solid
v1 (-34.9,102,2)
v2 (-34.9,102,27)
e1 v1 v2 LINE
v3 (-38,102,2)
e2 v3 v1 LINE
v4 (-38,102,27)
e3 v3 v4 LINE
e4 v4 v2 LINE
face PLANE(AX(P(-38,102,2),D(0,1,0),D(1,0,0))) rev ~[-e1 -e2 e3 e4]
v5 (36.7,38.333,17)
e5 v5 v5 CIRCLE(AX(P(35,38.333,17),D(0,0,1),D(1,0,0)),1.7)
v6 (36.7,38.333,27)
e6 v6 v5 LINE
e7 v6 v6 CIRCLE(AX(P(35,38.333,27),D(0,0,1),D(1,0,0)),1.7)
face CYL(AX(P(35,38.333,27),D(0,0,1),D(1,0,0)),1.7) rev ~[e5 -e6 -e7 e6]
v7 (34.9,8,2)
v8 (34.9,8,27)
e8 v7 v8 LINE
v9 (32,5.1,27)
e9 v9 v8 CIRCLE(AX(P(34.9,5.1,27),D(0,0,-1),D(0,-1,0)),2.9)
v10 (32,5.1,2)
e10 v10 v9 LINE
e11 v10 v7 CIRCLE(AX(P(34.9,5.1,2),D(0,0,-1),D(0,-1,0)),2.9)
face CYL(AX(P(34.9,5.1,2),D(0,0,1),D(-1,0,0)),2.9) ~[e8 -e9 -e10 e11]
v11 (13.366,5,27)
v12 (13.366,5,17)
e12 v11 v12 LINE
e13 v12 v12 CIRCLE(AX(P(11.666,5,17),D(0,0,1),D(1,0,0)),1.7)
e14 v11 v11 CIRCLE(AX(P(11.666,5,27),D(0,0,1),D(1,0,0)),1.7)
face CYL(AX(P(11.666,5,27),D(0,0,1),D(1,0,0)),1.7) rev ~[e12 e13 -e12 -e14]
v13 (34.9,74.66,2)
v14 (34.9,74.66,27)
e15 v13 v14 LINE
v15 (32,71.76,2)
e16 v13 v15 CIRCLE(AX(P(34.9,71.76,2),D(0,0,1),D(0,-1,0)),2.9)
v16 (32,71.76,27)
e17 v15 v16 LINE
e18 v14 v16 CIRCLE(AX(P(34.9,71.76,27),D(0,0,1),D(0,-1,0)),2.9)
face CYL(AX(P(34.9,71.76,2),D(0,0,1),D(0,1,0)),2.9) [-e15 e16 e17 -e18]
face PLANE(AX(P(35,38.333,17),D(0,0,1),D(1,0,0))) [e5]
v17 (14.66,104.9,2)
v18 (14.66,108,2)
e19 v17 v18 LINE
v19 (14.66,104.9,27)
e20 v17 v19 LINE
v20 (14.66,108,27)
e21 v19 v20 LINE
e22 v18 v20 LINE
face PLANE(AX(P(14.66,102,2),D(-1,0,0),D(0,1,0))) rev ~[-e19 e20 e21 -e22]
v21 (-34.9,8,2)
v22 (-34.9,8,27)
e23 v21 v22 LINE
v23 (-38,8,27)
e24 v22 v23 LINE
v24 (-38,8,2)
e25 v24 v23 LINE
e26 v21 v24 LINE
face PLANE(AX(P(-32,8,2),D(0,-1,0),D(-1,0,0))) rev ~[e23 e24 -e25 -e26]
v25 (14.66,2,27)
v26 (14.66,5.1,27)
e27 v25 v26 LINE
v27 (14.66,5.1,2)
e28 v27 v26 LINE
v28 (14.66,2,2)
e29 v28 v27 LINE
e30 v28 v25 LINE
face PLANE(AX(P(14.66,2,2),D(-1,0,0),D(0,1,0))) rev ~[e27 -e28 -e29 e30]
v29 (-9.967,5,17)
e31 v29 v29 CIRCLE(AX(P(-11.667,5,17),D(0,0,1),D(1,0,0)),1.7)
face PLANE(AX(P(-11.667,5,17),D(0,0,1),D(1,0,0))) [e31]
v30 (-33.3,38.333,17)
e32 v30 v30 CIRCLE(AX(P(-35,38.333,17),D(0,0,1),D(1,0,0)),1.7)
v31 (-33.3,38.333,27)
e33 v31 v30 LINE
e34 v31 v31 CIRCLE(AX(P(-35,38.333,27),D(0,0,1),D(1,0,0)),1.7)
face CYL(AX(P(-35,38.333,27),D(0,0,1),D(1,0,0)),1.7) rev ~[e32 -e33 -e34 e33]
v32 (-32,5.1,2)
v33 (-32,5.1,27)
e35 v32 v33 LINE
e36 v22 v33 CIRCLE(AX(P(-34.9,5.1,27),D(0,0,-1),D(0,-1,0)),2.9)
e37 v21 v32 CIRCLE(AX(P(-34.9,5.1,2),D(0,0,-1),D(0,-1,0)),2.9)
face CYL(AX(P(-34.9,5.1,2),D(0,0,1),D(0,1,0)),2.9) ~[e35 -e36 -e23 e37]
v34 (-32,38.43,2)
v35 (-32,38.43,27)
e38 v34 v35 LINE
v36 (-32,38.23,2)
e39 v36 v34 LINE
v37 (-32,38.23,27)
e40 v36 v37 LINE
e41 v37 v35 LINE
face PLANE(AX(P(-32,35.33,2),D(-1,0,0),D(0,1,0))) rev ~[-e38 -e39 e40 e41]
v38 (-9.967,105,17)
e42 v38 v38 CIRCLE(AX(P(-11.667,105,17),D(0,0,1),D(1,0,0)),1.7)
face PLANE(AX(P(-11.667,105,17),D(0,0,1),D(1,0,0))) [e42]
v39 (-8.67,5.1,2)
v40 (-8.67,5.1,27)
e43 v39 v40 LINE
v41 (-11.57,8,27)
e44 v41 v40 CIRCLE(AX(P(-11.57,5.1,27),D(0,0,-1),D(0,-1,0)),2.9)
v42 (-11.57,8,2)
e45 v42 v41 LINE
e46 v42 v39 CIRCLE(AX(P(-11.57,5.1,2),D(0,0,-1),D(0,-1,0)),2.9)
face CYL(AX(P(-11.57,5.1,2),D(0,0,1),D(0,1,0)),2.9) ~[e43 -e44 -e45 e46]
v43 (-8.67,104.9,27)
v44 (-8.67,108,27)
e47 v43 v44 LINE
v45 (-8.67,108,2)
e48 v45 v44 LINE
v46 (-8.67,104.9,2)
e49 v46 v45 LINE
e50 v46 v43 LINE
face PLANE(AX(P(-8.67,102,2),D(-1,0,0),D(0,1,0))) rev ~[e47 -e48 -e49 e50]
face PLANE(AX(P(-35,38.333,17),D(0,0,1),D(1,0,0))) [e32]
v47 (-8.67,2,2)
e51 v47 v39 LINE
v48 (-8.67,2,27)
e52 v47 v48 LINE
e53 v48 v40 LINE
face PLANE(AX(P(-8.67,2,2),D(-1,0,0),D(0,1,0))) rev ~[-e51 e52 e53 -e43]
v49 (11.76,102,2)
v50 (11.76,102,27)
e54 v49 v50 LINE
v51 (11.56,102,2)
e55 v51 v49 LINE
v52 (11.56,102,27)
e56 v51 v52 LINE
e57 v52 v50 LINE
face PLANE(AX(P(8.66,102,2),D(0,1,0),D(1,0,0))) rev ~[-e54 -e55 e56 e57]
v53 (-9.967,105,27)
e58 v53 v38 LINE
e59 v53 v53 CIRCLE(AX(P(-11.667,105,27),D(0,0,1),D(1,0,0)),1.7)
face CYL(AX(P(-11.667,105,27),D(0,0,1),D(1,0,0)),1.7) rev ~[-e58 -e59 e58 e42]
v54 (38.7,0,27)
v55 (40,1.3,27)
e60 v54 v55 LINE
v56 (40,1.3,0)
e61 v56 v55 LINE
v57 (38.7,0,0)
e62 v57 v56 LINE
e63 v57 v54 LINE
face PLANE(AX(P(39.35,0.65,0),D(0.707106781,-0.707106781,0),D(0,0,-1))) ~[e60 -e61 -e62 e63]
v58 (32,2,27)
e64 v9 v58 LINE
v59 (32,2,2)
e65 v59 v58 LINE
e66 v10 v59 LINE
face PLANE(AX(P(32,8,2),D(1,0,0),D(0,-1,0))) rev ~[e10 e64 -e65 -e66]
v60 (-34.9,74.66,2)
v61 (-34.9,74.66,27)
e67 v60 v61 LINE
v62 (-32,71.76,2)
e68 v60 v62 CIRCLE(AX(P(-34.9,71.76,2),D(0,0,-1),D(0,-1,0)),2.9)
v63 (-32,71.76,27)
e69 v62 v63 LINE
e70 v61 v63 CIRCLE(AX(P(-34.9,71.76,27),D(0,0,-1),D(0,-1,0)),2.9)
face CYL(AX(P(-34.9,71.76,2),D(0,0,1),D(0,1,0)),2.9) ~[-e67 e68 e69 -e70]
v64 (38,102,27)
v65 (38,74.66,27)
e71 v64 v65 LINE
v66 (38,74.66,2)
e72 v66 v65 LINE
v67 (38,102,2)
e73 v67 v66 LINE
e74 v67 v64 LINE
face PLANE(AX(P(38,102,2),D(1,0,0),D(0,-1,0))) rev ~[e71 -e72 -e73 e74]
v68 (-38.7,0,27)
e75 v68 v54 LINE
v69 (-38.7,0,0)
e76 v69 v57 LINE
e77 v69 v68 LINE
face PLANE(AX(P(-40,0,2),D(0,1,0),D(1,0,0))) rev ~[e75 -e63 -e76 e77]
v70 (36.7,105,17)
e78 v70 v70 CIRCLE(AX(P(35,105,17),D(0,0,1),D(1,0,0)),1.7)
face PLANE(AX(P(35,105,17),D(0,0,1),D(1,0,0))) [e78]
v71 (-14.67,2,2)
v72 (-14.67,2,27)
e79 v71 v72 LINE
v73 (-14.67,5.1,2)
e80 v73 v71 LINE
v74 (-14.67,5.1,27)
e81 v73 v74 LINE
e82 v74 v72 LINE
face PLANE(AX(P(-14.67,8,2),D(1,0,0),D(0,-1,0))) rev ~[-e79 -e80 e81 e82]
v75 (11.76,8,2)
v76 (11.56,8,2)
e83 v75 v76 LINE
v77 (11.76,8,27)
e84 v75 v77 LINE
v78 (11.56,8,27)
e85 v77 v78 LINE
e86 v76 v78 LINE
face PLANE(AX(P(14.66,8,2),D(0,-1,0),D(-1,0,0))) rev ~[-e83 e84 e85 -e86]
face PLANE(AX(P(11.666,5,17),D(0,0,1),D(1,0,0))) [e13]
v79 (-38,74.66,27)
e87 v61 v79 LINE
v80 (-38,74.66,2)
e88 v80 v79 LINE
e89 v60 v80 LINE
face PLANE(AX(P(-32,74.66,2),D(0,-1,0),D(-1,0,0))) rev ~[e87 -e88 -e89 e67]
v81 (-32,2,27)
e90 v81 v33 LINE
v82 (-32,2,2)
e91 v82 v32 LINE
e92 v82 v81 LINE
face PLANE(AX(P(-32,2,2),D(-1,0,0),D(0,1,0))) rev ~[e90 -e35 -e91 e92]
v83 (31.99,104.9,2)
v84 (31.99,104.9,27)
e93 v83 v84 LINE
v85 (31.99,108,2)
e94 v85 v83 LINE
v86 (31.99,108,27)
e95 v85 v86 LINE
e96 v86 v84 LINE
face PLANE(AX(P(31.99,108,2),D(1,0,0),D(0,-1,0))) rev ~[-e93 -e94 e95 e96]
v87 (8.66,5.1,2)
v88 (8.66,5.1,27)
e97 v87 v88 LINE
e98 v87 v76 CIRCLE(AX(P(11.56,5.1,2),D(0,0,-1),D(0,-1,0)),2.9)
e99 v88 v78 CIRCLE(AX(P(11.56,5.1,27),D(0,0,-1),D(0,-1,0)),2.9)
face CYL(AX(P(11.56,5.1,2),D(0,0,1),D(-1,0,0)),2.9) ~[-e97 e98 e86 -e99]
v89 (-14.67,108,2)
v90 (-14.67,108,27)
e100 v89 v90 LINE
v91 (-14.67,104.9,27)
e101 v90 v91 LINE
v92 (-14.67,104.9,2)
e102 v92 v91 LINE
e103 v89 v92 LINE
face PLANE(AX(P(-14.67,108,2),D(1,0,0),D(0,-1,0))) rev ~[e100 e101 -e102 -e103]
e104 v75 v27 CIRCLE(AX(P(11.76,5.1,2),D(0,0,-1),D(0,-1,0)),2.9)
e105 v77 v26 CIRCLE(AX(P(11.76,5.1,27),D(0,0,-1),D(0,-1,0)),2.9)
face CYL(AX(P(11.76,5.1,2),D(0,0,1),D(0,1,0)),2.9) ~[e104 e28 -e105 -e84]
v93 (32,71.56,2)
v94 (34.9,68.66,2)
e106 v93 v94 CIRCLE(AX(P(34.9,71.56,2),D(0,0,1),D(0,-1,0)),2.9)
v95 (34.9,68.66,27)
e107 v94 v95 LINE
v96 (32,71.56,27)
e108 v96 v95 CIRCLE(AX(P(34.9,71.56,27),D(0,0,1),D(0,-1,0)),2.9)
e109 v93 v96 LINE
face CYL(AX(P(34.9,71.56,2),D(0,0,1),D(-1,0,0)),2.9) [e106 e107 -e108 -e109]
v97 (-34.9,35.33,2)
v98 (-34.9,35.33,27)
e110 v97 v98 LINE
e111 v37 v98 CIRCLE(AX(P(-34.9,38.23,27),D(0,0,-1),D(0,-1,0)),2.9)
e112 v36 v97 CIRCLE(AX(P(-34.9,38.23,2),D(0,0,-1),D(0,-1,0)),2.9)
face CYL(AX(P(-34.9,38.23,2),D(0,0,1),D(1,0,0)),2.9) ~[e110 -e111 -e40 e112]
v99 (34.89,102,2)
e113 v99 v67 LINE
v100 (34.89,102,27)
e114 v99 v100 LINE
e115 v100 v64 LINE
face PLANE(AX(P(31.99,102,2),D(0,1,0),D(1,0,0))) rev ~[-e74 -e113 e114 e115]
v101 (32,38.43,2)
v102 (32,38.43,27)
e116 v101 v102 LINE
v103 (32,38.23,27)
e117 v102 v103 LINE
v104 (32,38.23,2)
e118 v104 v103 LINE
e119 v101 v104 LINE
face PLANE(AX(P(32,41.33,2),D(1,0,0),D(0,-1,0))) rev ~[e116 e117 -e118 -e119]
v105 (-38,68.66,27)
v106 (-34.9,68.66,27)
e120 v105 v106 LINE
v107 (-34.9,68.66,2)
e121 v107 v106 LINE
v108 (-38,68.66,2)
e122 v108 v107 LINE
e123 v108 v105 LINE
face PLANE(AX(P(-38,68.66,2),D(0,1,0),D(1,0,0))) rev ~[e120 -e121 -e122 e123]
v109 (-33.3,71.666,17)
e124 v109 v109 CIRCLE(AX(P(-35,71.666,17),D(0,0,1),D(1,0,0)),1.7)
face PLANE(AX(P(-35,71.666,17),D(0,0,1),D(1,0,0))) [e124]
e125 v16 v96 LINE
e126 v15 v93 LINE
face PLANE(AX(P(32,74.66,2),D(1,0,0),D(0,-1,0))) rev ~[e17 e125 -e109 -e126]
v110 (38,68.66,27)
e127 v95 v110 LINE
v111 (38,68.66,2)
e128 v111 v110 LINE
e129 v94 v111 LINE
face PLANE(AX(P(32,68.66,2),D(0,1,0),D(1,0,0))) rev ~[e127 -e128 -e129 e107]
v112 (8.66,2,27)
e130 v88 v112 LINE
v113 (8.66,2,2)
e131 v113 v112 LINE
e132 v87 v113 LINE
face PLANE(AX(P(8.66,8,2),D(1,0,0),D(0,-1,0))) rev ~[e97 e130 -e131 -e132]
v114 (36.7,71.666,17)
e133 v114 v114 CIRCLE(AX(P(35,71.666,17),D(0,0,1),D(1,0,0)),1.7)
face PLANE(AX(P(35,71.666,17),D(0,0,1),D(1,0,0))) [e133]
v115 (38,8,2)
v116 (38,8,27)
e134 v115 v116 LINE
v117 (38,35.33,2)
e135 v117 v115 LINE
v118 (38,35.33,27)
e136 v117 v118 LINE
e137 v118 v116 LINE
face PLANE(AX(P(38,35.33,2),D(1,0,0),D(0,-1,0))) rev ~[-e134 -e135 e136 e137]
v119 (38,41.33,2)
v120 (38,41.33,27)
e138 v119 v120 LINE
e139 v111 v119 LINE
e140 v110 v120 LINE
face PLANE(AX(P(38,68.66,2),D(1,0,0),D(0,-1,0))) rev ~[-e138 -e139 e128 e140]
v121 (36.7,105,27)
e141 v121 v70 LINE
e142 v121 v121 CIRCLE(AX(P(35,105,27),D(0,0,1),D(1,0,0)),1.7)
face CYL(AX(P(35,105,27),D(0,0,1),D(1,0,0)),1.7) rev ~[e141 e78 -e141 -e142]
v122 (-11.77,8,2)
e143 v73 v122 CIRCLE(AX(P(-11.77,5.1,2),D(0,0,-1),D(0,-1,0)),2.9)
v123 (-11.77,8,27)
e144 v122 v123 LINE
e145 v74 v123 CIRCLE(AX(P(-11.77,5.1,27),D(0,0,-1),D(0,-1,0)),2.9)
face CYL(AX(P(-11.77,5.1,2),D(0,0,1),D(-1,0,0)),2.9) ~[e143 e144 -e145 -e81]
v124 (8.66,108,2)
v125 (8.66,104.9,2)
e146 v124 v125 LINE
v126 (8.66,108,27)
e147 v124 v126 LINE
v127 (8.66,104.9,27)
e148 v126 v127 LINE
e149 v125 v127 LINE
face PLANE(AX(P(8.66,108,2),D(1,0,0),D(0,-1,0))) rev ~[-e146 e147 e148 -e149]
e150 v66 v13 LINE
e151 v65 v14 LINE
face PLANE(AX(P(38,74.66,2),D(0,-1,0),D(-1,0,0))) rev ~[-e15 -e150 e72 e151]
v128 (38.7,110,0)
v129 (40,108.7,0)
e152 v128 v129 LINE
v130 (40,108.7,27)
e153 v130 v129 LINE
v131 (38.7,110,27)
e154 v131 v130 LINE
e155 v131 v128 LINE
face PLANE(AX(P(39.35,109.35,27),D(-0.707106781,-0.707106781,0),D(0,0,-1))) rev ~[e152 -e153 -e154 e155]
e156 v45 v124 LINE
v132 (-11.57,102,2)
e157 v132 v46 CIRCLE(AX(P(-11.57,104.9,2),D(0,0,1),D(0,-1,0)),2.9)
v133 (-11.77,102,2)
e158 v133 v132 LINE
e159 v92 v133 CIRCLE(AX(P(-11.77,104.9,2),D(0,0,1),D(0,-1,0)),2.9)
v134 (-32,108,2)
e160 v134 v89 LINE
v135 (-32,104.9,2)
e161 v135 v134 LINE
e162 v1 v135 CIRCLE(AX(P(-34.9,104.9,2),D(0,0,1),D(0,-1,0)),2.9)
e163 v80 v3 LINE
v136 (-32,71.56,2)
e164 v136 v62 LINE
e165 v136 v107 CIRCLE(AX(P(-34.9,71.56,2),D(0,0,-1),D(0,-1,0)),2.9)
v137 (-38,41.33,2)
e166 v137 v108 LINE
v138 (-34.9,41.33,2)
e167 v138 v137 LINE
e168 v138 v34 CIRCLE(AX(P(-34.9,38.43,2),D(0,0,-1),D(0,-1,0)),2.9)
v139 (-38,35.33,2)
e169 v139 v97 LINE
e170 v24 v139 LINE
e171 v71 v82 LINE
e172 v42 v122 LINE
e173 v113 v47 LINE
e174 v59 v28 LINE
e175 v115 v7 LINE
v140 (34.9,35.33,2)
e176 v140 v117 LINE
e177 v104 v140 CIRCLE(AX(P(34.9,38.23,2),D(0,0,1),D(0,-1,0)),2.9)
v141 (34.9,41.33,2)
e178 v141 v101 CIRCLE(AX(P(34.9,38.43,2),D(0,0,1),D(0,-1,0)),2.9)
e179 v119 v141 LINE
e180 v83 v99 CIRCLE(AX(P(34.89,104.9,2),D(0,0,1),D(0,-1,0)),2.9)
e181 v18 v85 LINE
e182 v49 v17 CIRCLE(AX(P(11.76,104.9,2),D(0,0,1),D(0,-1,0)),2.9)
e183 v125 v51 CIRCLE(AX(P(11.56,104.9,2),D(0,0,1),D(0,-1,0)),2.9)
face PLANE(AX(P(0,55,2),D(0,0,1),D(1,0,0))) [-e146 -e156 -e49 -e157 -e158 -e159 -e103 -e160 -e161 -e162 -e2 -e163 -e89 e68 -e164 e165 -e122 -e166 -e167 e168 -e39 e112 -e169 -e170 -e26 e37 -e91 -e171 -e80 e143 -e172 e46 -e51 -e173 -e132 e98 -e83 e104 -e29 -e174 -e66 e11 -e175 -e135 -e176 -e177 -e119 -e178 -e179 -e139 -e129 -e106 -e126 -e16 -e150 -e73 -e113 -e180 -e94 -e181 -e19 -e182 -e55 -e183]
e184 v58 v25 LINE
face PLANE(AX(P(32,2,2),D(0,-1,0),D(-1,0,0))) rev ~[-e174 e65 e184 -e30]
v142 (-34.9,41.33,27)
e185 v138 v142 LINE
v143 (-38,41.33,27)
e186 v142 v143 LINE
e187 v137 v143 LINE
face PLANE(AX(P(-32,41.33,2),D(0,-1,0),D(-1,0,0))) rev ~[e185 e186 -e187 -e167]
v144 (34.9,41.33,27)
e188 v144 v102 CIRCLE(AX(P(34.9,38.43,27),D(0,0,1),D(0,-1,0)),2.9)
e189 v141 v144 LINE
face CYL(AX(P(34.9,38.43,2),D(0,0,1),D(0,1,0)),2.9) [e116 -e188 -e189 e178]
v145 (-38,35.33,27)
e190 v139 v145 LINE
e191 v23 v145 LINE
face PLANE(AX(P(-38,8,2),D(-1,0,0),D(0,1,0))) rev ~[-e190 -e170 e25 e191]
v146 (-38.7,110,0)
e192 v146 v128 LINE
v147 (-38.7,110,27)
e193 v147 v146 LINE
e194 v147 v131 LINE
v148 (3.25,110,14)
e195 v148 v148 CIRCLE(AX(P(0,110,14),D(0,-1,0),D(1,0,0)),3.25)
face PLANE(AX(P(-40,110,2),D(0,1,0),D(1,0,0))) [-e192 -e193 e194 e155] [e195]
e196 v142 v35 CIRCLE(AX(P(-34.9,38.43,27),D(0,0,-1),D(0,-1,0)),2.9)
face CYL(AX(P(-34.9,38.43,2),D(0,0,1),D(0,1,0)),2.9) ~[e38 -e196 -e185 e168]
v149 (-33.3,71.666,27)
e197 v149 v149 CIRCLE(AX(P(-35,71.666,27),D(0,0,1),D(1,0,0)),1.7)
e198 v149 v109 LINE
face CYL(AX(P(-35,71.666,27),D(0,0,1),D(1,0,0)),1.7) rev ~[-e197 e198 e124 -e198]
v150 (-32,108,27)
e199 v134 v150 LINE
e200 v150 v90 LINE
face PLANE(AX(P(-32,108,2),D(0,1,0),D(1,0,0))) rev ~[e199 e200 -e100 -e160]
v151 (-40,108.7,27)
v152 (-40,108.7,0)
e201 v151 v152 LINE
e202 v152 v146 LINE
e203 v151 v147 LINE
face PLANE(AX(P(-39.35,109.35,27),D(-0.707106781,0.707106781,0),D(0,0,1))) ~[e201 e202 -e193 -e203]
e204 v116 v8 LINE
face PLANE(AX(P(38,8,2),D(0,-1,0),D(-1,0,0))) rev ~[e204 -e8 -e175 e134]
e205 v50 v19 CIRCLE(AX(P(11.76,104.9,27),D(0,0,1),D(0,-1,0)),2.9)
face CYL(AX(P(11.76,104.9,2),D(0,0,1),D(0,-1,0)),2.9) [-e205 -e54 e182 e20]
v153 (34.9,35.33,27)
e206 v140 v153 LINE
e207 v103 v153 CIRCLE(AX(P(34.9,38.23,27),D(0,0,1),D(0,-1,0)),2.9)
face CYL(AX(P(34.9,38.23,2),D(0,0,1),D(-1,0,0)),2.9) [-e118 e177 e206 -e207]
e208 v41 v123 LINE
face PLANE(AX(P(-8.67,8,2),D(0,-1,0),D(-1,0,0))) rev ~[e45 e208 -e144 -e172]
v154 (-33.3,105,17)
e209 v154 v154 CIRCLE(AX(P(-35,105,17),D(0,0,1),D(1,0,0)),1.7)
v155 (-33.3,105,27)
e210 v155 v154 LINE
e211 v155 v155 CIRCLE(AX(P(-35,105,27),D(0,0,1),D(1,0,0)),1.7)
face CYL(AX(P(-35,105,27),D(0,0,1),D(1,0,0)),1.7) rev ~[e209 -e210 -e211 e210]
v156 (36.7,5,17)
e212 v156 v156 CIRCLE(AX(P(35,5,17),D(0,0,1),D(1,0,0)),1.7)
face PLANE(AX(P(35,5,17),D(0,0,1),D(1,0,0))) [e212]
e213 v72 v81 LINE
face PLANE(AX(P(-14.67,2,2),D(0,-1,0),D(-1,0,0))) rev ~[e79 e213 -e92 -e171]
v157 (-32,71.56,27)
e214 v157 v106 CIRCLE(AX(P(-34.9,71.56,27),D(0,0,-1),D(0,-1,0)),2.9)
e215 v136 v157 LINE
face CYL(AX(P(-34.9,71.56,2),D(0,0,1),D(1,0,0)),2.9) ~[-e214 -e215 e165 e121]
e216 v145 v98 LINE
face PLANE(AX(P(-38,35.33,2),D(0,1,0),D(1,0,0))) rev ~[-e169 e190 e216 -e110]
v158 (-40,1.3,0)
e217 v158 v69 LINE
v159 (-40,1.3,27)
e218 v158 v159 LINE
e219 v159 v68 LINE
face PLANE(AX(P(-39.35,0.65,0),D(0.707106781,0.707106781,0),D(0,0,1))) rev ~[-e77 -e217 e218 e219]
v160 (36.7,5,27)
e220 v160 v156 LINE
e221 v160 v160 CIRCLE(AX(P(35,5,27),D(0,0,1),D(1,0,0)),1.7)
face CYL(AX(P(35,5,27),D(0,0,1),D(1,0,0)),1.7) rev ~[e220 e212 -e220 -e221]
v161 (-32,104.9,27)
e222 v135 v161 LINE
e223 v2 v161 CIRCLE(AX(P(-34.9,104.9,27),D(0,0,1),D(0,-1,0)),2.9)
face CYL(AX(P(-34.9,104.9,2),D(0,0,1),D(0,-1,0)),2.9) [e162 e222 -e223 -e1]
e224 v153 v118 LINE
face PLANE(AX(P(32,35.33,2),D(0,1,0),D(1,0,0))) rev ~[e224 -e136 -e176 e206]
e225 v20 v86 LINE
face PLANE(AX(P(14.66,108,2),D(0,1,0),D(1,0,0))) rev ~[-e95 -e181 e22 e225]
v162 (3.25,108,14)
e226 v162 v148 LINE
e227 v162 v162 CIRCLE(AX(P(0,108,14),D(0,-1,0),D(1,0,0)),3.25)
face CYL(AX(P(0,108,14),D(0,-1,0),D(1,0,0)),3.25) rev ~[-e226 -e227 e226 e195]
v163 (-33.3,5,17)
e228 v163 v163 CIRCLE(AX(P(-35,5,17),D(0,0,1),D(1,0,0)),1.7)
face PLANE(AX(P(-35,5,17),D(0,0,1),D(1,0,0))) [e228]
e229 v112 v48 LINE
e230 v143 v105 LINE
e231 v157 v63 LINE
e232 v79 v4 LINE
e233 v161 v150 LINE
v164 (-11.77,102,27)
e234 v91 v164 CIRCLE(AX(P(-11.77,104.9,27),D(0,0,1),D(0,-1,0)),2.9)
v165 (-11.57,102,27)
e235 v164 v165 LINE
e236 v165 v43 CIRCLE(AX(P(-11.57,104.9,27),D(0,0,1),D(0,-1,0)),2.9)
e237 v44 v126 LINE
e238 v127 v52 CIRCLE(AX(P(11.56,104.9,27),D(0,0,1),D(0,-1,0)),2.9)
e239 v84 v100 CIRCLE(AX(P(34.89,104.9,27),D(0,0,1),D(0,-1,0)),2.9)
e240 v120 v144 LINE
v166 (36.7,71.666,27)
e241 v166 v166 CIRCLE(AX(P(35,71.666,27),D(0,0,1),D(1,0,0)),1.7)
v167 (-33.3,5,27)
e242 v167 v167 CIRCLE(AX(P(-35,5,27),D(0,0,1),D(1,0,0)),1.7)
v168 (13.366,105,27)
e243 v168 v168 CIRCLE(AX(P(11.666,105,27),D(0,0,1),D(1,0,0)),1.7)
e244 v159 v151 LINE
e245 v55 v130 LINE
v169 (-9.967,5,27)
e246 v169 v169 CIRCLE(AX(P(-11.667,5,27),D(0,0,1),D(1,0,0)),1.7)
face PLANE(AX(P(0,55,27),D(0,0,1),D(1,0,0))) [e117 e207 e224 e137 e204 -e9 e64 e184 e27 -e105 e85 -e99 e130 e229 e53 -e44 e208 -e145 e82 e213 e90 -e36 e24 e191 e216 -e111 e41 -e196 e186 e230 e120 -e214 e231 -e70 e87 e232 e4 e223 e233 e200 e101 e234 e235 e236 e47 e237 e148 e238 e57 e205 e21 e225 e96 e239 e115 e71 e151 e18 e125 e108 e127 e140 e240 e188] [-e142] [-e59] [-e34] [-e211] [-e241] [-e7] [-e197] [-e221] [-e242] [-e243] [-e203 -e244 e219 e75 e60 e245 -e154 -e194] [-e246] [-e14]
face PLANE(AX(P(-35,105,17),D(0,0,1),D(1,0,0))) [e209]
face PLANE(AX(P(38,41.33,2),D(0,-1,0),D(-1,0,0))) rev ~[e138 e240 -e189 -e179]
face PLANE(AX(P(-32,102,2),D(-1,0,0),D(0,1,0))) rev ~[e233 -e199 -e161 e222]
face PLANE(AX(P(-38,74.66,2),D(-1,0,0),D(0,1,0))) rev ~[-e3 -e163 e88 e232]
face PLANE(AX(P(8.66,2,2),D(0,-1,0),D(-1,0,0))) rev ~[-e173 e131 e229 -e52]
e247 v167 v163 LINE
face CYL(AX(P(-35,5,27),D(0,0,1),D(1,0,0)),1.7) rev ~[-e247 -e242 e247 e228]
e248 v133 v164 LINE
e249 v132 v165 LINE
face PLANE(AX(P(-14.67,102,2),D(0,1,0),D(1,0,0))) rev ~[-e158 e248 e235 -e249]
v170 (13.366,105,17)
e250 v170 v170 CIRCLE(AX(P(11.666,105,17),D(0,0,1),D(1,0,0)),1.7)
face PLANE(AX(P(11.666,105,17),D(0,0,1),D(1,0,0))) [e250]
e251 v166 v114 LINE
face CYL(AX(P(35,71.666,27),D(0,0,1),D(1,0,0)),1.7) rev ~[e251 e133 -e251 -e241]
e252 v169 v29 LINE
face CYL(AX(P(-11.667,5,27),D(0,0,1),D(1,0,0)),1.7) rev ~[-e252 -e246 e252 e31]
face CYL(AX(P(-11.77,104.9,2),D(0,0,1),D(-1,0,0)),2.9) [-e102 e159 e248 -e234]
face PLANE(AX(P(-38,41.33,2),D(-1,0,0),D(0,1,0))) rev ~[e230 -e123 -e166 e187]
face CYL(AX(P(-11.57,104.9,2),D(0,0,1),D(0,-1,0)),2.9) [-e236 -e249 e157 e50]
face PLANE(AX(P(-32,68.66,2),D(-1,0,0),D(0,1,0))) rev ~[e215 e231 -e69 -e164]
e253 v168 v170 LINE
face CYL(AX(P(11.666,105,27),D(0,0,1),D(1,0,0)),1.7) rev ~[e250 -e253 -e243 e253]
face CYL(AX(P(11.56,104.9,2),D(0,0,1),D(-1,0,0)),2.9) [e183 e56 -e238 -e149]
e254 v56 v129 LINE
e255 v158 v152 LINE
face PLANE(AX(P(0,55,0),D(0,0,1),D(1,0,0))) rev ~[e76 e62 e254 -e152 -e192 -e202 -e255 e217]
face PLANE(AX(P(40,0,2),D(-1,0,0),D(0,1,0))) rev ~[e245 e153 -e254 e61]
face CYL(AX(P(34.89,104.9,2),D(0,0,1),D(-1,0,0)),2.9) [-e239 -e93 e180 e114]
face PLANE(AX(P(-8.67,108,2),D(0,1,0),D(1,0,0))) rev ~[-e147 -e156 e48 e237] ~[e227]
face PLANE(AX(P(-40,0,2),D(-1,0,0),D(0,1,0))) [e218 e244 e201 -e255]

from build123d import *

# Parameters (mm, degrees)
SKETCH024_W     = 80
SKETCH024_H     = 110
PAD008_DEPTH    = 2
SKETCH030_W     = 80
SKETCH030_H     = 110
PAD009_DEPTH    = 25
SKETCH029_R     = 1.7
POCKET016_DEPTH = 10
SKETCH031_R     = 3.25
POCKET017_DEPTH = 2.001
FILLET006_R     = 2.9
CHAMFER005_SIZE = 1.3


with BuildPart() as part:
    # Sketch024 → Pad008 (new body)
    with BuildSketch(Plane.XY):
        with Locations((0, 55)):
            Rectangle(SKETCH024_W, SKETCH024_H)
    extrude(amount=PAD008_DEPTH)

    # Sketch030 (on Face6 of Pad008) → Pad009 (join)
    with BuildSketch(Plane.XY.offset(2)):
        with Locations((0, 55)):
            Rectangle(SKETCH030_W, SKETCH030_H)
        Polygon((-38, 102), (-32, 102), (-32, 108), (-14.67, 108), (-14.67, 102), (-8.67, 102), (-8.67, 108), (8.66, 108), (8.66, 102), (14.66, 102), (14.66, 108), (31.99, 108), (31.99, 102), (38, 102), (38, 74.66), (32, 74.66), (32, 68.66), (38, 68.66), (38, 41.33), (32, 41.33), (32, 35.33), (38, 35.33), (38, 8), (32, 8), (32, 2), (14.66, 2), (14.66, 8), (8.66, 8), (8.66, 2), (-8.67, 2), (-8.67, 8), (-14.67, 8), (-14.67, 2), (-32, 2), (-32, 8), (-38, 8), (-38, 35.33), (-32, 35.33), (-32, 41.33), (-38, 41.33), (-38, 68.66), (-32, 68.66), (-32, 74.66), (-38, 74.66), align=None, mode=Mode.SUBTRACT)
    extrude(amount=PAD009_DEPTH)

    # Sketch029 (on Face3 of Pad009) → Pocket016 (cut)
    with BuildSketch(Plane.XY.offset(27)):
        with Locations((-11.667, 5)):
            Circle(SKETCH029_R)
        with Locations((11.666, 5)):
            Circle(SKETCH029_R)
        with Locations((35, 5)):
            Circle(SKETCH029_R)
        with Locations((-35, 38.333)):
            Circle(SKETCH029_R)
        with Locations((-35, 71.666)):
            Circle(SKETCH029_R)
        with Locations((-35, 105)):
            Circle(SKETCH029_R)
        with Locations((35, 38.333)):
            Circle(SKETCH029_R)
        with Locations((35, 71.666)):
            Circle(SKETCH029_R)
        with Locations((35, 105)):
            Circle(SKETCH029_R)
        with Locations((-11.667, 105)):
            Circle(SKETCH029_R)
        with Locations((11.666, 105)):
            Circle(SKETCH029_R)
        with Locations((-35, 5)):
            Circle(SKETCH029_R)
    extrude(amount=-POCKET016_DEPTH, mode=Mode.SUBTRACT)

    # Sketch031 (on Face28 of Pocket016) → Pocket017 (cut, through all)
    with BuildSketch(Plane.XZ.offset(-108)):
        with Locations((0, 14)):
            Circle(SKETCH031_R)
    extrude(amount=-POCKET017_DEPTH, mode=Mode.SUBTRACT)

    # Fillet006
    fillet006_edges = [part.edges().sort_by_distance(p)[0] for p in [
        (-32, 8, 14.5),
        (-14.67, 8, 14.5),
        (-8.67, 8, 14.5),
        (8.66, 8, 14.5),
        (14.66, 8, 14.5),
        (32, 8, 14.5),
        (-32, 35.33, 14.5),
        (-32, 41.33, 14.5),
        (-32, 68.66, 14.5),
        (-32, 74.66, 14.5),
        (32, 35.33, 14.5),
        (32, 41.33, 14.5),
        (32, 68.66, 14.5),
        (32, 74.66, 14.5),
        (31.99, 102, 14.5),
        (14.66, 102, 14.5),
        (8.66, 102, 14.5),
        (-8.67, 102, 14.5),
        (-14.67, 102, 14.5),
        (-32, 102, 14.5),
    ]]
    fillet(fillet006_edges, radius=FILLET006_R)

    # Chamfer005
    chamfer005_edges = [part.edges().sort_by_distance(p)[0] for p in [
        (40, 110, 13.5),
        (-40, 110, 13.5),
        (40, 0, 13.5),
        (-40, 0, 13.5),
    ]]
    chamfer(chamfer005_edges, length=CHAMFER005_SIZE)


solid = part.part
